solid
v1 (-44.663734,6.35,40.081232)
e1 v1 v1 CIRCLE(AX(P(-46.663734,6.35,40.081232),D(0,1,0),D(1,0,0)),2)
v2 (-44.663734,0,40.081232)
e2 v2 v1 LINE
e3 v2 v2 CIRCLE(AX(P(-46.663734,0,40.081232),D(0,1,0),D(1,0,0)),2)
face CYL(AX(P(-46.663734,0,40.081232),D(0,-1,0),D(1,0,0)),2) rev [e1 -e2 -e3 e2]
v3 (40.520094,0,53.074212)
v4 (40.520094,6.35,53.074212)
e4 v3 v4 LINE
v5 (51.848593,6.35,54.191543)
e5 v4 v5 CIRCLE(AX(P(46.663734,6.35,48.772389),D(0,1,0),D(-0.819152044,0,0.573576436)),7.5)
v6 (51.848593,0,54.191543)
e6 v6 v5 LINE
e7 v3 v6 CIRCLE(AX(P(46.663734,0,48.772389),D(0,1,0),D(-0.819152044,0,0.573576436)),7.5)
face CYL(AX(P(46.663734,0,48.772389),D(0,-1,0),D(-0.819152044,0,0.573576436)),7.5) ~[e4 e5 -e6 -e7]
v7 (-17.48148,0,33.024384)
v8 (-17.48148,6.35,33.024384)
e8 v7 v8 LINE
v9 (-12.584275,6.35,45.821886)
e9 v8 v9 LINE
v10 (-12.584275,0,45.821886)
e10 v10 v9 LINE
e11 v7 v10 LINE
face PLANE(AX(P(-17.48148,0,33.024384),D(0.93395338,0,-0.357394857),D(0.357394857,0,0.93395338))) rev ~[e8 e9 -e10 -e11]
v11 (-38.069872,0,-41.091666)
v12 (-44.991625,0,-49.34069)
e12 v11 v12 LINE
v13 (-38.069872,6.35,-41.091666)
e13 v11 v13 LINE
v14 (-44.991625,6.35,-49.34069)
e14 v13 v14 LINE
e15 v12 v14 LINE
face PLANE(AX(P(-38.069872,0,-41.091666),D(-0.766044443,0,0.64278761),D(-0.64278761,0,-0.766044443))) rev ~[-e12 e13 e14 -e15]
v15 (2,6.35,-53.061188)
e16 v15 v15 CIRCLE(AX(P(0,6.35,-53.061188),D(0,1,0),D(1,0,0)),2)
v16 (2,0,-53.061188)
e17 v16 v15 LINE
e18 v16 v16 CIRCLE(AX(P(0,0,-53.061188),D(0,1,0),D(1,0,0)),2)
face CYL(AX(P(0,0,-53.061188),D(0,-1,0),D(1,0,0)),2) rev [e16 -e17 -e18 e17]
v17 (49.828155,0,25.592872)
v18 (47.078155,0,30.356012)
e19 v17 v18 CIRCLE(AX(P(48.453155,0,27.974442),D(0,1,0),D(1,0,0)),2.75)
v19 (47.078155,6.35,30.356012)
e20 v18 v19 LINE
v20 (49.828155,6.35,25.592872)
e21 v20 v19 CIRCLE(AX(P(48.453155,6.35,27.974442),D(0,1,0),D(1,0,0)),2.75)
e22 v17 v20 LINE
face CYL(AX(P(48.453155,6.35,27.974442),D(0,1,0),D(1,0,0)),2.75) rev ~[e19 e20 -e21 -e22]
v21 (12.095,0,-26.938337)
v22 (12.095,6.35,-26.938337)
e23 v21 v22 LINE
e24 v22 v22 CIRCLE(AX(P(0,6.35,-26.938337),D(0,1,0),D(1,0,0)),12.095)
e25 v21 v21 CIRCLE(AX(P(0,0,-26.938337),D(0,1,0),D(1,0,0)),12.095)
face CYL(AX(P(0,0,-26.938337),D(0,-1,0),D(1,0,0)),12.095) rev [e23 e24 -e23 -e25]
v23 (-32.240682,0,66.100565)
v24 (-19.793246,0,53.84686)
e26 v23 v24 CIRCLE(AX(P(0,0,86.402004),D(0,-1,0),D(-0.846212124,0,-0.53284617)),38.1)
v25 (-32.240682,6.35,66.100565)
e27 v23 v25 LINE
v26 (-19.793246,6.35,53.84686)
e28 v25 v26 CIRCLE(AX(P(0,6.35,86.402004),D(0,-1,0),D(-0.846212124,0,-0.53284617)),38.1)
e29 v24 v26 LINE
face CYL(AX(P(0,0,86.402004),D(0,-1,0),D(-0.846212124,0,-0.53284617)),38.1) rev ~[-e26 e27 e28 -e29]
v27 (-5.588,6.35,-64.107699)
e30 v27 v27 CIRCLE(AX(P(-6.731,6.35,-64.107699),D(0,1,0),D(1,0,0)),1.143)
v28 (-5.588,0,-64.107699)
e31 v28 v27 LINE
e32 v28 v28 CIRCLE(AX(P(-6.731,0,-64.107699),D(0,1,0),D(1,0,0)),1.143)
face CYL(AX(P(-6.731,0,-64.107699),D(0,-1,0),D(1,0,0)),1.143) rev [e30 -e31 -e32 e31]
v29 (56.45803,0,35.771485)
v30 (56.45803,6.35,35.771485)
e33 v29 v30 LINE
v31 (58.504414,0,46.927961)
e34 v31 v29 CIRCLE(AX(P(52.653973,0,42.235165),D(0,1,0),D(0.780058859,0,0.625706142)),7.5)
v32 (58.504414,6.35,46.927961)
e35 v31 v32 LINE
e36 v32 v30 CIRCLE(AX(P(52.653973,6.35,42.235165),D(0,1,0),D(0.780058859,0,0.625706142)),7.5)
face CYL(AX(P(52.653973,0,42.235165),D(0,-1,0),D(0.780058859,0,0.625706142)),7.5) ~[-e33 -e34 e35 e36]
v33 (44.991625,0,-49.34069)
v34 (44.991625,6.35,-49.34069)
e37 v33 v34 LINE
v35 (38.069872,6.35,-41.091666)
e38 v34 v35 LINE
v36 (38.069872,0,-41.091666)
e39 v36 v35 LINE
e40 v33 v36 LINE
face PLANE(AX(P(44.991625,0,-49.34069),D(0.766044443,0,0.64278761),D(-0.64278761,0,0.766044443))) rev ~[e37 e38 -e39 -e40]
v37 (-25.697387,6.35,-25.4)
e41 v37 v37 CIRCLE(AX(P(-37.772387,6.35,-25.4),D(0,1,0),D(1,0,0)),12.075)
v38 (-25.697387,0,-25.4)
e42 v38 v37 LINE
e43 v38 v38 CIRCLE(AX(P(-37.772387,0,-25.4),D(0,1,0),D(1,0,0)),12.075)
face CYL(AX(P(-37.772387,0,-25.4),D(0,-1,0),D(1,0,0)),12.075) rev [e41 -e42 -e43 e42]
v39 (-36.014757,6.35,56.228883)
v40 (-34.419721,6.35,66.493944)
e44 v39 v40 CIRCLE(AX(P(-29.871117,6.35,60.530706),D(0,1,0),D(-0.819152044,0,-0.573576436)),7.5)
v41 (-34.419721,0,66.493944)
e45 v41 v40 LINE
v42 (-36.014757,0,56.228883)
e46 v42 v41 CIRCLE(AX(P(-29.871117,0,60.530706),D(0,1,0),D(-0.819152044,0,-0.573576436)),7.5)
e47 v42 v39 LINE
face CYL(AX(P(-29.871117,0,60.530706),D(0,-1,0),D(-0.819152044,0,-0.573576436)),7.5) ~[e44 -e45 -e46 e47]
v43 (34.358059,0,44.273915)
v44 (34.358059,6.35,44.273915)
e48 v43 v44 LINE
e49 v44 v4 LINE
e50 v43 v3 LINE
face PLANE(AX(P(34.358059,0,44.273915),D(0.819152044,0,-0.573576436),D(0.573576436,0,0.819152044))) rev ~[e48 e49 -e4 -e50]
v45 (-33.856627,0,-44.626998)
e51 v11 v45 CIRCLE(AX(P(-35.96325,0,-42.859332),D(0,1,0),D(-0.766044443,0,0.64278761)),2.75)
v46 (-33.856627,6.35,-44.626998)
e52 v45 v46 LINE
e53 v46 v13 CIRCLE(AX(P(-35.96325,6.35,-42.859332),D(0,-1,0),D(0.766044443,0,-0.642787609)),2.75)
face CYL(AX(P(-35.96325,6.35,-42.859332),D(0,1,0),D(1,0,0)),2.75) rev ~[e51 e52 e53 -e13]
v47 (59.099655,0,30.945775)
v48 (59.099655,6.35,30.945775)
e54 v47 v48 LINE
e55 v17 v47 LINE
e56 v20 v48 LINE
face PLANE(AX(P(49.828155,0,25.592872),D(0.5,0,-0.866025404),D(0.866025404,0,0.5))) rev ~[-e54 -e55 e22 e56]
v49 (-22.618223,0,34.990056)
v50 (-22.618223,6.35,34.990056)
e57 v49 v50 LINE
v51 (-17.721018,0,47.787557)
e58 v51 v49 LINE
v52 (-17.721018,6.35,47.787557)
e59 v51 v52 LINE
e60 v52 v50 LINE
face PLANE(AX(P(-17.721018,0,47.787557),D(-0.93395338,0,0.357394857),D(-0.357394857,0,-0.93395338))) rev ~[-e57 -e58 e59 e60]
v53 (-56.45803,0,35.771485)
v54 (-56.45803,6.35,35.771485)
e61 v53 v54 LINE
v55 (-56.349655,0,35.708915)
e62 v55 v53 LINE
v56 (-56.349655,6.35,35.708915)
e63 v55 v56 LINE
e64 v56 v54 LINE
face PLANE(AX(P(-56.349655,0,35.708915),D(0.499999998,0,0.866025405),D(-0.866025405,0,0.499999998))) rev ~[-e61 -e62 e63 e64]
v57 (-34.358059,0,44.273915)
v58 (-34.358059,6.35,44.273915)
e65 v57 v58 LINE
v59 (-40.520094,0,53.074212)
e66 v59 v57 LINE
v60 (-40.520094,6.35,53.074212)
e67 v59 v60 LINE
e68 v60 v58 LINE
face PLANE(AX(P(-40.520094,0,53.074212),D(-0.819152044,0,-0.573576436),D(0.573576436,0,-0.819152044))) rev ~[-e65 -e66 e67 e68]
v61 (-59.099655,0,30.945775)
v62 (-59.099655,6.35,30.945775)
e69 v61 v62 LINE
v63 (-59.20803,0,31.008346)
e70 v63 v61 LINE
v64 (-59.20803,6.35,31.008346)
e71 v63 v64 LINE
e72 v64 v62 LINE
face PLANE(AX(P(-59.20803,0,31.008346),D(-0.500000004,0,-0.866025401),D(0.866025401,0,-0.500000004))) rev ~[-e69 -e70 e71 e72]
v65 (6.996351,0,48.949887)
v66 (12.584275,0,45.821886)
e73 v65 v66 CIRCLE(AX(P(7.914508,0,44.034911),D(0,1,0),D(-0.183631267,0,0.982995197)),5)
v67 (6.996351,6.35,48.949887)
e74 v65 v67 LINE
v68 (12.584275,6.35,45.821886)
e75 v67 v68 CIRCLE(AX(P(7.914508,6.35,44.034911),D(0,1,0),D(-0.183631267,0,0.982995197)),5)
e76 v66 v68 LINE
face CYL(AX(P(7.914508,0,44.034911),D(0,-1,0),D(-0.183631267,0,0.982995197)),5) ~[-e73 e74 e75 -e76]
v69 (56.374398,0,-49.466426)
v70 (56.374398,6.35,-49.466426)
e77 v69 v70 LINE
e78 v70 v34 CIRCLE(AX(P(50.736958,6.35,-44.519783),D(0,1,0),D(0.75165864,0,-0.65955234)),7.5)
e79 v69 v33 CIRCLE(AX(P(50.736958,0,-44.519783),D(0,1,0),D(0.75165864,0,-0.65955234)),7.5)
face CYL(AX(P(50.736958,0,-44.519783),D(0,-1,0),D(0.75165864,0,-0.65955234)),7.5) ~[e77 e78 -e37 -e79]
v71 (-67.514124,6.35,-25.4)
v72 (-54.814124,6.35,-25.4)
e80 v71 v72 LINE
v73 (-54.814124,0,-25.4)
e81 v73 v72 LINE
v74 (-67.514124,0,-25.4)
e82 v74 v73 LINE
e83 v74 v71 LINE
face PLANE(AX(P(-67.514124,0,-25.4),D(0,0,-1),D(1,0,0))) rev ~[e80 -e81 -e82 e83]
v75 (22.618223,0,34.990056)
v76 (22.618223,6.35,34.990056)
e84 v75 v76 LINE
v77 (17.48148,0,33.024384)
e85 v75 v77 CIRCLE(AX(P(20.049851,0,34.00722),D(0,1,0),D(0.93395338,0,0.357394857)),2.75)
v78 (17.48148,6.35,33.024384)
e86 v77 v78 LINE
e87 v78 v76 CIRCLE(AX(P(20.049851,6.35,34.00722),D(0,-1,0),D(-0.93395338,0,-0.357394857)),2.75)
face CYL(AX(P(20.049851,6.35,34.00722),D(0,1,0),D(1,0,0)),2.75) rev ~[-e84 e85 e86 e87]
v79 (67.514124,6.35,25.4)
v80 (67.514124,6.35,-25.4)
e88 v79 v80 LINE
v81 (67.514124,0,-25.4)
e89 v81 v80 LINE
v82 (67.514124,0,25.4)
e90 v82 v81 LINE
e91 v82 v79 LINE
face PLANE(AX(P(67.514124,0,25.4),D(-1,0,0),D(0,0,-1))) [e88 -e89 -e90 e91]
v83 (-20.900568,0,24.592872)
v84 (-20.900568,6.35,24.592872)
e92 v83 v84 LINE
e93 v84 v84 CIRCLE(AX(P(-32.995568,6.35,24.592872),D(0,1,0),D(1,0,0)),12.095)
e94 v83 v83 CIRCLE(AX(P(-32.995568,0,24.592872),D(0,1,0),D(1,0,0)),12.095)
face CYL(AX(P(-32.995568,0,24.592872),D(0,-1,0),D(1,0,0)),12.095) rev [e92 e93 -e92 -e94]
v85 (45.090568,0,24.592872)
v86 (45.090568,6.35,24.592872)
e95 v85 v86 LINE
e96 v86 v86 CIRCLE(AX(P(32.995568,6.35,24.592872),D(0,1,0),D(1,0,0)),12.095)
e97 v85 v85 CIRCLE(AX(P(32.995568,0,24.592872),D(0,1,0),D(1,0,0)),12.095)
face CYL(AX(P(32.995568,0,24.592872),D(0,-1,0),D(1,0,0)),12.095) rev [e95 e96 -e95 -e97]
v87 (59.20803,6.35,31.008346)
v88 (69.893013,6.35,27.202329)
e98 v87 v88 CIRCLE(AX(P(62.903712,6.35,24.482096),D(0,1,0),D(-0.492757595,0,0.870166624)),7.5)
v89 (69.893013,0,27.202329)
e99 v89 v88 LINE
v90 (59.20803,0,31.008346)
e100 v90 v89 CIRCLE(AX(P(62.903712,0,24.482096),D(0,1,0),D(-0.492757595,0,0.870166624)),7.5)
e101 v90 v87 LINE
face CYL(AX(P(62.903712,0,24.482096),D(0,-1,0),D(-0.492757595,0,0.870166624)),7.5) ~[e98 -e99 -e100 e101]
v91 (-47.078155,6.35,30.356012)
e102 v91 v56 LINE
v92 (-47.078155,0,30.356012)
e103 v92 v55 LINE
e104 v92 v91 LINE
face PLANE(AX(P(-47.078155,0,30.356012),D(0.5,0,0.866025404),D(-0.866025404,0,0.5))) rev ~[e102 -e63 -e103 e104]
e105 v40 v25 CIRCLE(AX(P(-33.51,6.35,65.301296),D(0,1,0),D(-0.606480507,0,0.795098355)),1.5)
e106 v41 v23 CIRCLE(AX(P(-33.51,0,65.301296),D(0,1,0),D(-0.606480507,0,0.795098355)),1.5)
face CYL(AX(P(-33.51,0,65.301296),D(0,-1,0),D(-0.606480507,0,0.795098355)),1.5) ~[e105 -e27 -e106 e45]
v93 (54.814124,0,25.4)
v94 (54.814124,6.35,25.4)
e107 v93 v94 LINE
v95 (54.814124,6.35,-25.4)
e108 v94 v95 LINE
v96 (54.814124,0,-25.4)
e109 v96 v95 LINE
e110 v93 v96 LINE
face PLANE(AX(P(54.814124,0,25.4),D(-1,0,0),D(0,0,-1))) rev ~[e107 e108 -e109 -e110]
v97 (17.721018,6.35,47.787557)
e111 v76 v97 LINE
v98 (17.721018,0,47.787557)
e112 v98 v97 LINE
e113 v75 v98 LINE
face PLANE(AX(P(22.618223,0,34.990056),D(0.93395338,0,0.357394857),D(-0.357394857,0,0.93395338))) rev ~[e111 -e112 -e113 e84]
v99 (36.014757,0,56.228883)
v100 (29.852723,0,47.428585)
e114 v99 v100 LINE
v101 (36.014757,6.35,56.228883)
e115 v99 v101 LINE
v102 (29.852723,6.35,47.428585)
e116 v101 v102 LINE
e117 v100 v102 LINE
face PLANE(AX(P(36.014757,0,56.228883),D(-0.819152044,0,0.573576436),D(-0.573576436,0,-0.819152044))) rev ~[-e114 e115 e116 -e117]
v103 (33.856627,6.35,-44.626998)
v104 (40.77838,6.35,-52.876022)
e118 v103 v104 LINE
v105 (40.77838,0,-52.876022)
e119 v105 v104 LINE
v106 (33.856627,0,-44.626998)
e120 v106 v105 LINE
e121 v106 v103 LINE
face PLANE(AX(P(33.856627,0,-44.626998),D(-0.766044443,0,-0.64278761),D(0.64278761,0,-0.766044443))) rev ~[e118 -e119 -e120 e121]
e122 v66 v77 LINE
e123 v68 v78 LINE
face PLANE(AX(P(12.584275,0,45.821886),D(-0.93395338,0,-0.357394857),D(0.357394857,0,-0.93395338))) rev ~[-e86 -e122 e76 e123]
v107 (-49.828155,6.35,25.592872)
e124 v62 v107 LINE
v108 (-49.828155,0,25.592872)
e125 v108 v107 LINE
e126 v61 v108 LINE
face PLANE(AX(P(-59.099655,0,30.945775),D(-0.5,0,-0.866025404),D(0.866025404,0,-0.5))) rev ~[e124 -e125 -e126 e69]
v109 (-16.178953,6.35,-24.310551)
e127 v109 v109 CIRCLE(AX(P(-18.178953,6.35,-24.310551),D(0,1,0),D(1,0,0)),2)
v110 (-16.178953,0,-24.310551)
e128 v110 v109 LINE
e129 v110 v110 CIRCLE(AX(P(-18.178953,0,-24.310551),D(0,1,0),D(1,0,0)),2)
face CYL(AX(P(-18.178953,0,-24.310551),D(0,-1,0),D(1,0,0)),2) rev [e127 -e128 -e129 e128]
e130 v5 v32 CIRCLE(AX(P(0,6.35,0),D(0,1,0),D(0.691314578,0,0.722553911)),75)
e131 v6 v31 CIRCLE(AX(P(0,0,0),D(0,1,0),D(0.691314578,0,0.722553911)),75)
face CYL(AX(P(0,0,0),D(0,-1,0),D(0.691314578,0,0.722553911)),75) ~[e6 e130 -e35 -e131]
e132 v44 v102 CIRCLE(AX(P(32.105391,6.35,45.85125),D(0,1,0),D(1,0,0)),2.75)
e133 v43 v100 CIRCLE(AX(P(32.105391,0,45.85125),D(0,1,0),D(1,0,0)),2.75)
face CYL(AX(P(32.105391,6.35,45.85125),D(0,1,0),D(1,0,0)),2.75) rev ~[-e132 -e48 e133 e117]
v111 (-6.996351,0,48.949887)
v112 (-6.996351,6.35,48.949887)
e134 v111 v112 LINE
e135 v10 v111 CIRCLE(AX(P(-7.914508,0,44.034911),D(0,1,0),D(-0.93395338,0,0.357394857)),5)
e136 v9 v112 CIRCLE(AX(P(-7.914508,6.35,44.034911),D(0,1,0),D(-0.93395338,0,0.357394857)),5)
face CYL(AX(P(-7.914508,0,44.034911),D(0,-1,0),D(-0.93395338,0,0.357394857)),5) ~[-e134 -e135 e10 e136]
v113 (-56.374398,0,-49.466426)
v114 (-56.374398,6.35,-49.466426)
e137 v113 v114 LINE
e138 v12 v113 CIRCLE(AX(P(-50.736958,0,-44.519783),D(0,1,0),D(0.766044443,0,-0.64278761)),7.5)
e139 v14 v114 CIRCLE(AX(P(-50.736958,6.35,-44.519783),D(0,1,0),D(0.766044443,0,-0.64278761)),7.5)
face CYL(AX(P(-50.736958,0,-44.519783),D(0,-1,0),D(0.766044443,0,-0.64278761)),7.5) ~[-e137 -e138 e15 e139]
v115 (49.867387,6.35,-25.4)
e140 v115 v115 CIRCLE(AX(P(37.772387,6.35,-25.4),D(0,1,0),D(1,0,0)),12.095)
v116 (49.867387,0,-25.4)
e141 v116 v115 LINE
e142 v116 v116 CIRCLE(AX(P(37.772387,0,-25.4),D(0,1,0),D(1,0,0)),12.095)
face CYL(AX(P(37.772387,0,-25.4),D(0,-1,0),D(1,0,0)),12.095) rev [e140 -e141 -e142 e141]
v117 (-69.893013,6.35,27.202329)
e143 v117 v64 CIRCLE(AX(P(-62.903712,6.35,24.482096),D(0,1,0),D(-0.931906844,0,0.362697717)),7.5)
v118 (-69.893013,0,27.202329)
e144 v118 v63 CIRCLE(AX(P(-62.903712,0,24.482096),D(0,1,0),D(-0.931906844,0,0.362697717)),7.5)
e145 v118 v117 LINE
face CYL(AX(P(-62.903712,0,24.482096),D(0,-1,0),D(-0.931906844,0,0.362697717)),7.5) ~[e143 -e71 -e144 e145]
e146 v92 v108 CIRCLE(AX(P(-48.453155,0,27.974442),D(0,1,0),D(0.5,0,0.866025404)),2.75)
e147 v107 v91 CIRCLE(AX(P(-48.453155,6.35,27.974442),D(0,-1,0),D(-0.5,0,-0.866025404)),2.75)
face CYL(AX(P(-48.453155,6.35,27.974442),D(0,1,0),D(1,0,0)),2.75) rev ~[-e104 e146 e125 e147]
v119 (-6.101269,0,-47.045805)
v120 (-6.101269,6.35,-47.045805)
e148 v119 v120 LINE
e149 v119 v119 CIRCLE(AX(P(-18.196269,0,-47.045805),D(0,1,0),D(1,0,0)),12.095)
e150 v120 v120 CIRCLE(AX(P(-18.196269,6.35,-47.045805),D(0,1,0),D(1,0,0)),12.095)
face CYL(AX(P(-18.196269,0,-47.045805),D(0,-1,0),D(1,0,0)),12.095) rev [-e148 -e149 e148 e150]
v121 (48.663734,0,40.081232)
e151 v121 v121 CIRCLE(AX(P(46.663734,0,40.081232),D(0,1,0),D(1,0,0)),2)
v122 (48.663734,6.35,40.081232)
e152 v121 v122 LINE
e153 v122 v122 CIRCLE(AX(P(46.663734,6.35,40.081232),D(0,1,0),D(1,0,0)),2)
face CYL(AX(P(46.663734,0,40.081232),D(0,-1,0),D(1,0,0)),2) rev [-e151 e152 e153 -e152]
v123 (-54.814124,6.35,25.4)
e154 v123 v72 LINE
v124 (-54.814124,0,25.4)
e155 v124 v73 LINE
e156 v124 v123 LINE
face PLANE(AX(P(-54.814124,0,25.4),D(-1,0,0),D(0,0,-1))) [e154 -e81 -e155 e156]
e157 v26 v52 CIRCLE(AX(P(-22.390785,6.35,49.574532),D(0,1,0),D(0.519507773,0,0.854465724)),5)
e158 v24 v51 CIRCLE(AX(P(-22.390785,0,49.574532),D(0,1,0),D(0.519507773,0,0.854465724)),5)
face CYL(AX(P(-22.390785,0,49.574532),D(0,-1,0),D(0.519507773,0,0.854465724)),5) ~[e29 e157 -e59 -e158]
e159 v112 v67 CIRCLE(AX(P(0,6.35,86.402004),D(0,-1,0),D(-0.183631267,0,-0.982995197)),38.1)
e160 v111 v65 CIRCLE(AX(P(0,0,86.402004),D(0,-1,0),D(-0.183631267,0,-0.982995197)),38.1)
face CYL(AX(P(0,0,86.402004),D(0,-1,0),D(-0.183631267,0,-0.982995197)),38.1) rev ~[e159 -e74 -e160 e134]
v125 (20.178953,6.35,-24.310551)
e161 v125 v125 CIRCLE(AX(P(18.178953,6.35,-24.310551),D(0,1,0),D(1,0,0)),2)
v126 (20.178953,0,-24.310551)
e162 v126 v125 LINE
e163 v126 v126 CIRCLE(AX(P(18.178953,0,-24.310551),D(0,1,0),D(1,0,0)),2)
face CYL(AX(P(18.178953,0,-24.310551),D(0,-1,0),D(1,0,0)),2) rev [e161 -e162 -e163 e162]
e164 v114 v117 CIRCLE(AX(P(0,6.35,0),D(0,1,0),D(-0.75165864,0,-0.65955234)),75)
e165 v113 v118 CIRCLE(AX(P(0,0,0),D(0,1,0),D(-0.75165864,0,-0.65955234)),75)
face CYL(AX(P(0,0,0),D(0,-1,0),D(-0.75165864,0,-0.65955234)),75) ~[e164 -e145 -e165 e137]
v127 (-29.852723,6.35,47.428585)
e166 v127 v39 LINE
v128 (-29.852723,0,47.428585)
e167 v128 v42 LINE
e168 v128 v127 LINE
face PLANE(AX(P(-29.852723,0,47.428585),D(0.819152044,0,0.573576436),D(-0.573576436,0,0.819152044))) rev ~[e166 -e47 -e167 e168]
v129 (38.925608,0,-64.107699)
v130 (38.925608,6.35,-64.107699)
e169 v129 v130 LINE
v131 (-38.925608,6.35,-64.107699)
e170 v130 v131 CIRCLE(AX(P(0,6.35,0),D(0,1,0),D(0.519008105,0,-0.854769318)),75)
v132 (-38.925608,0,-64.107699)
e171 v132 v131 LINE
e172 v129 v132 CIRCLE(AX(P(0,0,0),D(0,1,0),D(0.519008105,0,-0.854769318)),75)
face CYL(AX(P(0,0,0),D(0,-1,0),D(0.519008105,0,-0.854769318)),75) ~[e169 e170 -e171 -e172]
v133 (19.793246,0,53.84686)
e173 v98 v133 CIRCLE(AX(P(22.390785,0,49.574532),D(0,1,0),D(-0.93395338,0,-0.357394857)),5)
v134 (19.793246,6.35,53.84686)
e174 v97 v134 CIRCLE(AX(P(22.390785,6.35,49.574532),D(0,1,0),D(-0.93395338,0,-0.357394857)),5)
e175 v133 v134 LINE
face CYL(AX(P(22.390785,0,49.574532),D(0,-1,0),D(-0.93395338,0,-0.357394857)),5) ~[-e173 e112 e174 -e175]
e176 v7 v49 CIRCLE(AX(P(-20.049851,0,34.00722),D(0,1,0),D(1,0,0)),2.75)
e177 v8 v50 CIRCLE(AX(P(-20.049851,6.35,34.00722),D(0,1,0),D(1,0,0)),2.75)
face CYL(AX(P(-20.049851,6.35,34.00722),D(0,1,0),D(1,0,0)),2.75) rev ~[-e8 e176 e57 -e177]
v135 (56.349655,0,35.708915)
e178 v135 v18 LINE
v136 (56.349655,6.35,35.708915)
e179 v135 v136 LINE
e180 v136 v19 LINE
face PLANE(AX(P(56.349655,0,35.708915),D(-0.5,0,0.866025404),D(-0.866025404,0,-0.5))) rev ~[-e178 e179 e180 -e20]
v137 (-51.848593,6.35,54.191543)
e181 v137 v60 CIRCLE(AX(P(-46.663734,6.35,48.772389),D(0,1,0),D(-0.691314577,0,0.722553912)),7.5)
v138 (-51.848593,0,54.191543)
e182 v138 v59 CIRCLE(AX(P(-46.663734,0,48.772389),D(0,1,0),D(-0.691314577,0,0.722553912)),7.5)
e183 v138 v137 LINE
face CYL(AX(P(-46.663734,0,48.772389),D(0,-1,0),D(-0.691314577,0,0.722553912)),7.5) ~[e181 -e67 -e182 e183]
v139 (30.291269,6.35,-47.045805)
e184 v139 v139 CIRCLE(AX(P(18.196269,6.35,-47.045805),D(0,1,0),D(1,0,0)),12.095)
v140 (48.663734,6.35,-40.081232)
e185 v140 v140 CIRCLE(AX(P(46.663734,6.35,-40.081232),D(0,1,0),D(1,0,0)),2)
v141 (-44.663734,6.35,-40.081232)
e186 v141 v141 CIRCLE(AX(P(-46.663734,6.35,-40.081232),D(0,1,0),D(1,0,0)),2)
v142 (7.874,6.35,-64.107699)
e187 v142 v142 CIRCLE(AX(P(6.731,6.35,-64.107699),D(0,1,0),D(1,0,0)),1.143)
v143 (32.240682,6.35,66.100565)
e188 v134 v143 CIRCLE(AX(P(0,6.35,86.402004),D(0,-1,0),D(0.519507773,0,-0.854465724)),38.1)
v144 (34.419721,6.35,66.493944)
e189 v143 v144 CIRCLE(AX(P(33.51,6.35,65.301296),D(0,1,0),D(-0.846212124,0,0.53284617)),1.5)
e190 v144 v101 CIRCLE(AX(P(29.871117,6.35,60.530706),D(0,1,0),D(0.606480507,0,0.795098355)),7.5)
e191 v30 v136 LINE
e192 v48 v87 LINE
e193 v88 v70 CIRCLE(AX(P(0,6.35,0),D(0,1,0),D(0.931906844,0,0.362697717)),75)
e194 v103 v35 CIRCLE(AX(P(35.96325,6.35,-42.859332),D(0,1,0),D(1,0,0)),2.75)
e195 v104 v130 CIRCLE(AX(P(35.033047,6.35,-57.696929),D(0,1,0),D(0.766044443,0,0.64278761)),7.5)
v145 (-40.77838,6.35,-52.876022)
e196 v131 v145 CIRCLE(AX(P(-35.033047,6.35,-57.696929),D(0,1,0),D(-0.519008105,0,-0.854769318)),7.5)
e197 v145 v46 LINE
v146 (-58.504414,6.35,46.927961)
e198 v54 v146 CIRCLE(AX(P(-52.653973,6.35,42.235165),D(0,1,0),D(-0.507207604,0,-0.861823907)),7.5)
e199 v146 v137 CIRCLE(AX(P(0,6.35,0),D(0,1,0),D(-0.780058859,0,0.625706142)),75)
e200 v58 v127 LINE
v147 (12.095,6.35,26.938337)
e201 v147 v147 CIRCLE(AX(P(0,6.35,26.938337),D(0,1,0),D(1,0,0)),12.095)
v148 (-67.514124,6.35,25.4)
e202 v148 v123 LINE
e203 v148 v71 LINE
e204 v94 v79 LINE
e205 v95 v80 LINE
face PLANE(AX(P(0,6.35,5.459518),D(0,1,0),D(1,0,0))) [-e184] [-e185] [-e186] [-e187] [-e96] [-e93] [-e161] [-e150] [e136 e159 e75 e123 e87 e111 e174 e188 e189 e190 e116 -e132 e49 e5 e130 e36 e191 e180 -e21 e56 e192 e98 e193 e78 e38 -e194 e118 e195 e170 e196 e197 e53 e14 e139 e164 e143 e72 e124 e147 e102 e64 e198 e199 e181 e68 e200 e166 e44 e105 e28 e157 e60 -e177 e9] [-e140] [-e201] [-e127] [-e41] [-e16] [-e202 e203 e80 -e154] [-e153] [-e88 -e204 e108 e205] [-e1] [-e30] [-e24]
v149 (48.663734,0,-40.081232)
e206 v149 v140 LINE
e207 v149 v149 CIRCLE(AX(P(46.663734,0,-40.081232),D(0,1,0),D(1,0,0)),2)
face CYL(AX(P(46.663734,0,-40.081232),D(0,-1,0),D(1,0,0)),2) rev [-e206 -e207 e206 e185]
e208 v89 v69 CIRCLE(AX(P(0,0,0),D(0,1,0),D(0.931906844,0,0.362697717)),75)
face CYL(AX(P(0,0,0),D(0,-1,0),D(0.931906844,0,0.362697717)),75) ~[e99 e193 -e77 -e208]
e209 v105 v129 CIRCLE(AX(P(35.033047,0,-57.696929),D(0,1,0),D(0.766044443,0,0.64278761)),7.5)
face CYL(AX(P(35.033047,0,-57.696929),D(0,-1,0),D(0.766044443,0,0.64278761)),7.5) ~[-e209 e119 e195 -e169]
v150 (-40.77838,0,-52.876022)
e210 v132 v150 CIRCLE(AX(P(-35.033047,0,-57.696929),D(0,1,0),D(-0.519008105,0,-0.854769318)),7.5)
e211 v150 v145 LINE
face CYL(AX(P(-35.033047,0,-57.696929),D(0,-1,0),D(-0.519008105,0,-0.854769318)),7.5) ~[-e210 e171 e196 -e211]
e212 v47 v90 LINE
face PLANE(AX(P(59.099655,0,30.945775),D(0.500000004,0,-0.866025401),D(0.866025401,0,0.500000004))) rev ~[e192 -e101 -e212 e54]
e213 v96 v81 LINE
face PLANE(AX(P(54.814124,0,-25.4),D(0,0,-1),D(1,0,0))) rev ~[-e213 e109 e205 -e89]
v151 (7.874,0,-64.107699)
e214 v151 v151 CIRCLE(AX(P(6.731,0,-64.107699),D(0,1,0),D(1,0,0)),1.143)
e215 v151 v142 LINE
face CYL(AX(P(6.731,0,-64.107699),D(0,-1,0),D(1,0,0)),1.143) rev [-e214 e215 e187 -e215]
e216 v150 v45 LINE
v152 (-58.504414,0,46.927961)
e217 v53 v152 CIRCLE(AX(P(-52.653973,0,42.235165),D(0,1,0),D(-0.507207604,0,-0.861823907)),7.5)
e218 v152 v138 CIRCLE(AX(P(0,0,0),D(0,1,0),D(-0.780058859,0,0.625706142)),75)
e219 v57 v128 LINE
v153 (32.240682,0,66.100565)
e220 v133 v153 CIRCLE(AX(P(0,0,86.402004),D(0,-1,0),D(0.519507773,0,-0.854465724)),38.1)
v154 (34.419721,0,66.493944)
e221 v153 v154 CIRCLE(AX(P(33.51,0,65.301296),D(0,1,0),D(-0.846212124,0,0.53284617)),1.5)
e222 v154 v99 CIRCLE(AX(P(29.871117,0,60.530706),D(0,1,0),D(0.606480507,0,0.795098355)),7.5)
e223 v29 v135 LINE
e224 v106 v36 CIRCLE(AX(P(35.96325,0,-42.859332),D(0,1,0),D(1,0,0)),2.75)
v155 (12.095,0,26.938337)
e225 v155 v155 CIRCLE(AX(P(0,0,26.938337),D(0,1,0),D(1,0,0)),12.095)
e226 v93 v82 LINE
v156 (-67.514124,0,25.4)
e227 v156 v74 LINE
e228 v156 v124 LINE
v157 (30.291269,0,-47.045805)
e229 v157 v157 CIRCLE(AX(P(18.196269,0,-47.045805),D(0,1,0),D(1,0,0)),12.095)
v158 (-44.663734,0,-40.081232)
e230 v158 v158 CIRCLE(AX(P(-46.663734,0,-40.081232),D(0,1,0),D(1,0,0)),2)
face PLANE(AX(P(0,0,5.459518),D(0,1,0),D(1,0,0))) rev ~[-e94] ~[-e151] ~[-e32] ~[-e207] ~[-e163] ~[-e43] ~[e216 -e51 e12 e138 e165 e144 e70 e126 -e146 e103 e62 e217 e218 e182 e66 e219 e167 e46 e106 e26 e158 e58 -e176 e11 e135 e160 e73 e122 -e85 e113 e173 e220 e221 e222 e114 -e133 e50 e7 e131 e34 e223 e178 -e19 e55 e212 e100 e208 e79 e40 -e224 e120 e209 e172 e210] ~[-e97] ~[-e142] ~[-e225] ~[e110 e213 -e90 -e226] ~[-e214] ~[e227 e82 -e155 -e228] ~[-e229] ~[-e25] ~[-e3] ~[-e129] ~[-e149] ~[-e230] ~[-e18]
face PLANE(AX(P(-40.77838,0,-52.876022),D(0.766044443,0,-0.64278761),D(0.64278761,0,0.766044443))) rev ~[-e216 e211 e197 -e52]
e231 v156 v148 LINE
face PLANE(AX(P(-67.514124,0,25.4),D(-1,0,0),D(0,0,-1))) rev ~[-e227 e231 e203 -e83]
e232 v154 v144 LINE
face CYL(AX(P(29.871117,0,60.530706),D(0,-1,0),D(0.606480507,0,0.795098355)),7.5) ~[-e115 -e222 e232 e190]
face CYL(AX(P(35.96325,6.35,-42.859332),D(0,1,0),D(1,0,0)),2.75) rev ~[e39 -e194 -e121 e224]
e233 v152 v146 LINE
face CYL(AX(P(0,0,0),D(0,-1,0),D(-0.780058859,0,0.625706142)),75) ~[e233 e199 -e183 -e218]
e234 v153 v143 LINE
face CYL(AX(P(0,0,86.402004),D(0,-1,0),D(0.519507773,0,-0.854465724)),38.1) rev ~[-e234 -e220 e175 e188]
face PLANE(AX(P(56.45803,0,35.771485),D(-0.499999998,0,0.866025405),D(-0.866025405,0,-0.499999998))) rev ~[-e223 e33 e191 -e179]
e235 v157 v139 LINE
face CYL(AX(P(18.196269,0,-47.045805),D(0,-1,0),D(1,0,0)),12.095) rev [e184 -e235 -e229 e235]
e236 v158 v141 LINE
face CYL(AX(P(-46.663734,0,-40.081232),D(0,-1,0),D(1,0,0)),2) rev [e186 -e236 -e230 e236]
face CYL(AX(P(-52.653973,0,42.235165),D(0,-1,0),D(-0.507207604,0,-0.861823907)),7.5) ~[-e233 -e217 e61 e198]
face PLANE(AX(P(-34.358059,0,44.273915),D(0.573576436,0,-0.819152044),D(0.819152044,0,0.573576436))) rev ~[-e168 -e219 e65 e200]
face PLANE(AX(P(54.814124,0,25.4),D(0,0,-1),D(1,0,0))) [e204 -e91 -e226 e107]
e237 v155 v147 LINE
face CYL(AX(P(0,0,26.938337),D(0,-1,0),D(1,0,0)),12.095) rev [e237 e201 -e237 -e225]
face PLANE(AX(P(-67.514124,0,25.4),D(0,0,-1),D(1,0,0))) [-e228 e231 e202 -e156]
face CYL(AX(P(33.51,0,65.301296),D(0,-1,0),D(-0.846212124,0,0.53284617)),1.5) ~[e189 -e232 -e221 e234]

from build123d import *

# Parameters (mm, degrees)
SKETCH1_R           = 2
SKETCH1_W           = 12.7
SKETCH1_H           = 50.8
SKETCH1_R_2         = 12.095
SKETCH1_R_3         = 12.075
SKETCH1_R_4         = 1.143
BOSS_EXTRUDE1_DEPTH = 6.35
SKETCH5_R           = 2.75
CUT_EXTRUDE5_DEPTH  = 10


with BuildPart() as part:
    # Sketch1 → Boss-Extrude1 (new body)
    with BuildSketch(Plane(origin=(0, 0, 0), x_dir=(1, 0, 0), z_dir=(0, 1, 0))):
        with BuildLine():
            Line((-40.520093651, -53.074212293), (-34.358059191, -44.273915061))
            Line((-34.358059191, -44.273915061), (-29.852722948, -47.428585461))
            Line((-29.852722948, -47.428585461), (-36.014757408, -56.228882693))
            ThreePointArc((-36.014757408, -56.228882693), (-37.282182463, -61.682274385), (-34.419720881, -66.493943628))
            ThreePointArc((-34.419720881, -66.493943628), (-33.243515234, -66.777434912), (-32.240681933, -66.10056535))
            ThreePointArc((-32.240681933, -66.10056535), (-26.728650164, -59.250774979), (-19.793246149, -53.846860332))
            ThreePointArc((-19.793246149, -53.846860332), (-17.659799789, -51.192486841), (-17.721018114, -47.787557426))
            Line((-17.721018114, -47.787557426), (-22.618223277, -34.99005566))
            Line((-22.618223277, -34.99005566), (-17.481479686, -33.024383946))
            Line((-17.481479686, -33.024383946), (-12.584274523, -45.821885712))
            ThreePointArc((-12.584274523, -45.821885712), (-10.356790186, -48.397852623), (-6.996351286, -48.949887413))
            ThreePointArc((-6.996351286, -48.949887413), (0, -48.302004425), (6.996351286, -48.949887413))
            ThreePointArc((6.996351286, -48.949887413), (10.356790186, -48.397852623), (12.584274523, -45.821885712))
            Line((12.584274523, -45.821885712), (17.481479686, -33.024383946))
            Line((17.481479686, -33.024383946), (22.618223277, -34.99005566))
            Line((22.618223277, -34.99005566), (17.721018114, -47.787557426))
            ThreePointArc((17.721018114, -47.787557426), (17.659799789, -51.192486841), (19.793246149, -53.846860332))
            ThreePointArc((19.793246149, -53.846860332), (26.728650164, -59.250774979), (32.240681933, -66.10056535))
            ThreePointArc((32.240681933, -66.10056535), (33.243515234, -66.777434912), (34.419720881, -66.493943628))
            ThreePointArc((34.419720881, -66.493943628), (37.282182463, -61.682274385), (36.014757408, -56.228882693))
            Line((36.014757408, -56.228882693), (29.852722948, -47.428585461))
            Line((29.852722948, -47.428585461), (34.358059191, -44.273915061))
            Line((34.358059191, -44.273915061), (40.520093651, -53.074212293))
            ThreePointArc((40.520093651, -53.074212293), (45.927580176, -56.23617342), (51.848593315, -54.191543356))
            ThreePointArc((51.848593315, -54.191543356), (55.295899374, -50.669157408), (58.504414423, -46.927960674))
            ThreePointArc((58.504414423, -46.927960674), (60.030901261, -40.882046302), (56.458030011, -35.771485305))
            Line((56.458030011, -35.771485305), (56.349654942, -35.70891493))
            Line((56.349654942, -35.70891493), (47.078155187, -30.35601205))
            Line((47.078155187, -30.35601205), (49.828155187, -25.59287233))
            Line((49.828155187, -25.59287233), (59.099654942, -30.945775209))
            Line((59.099654942, -30.945775209), (59.208030011, -31.008345585))
            ThreePointArc((59.208030011, -31.008345585), (65.420341286, -31.547262353), (69.893013303, -27.202328787))
            ThreePointArc((69.893013303, -27.202328787), (73.860606951, 13.023468848), (56.374397975, 49.466425512))
            ThreePointArc((56.374397975, 49.466425512), (50.654117331, 52.01932544), (44.991624855, 49.340690033))
            Line((44.991624855, 49.340690033), (38.069871869, 41.091666046))
            Line((38.069871869, 41.091666046), (33.856627432, 44.626997899))
            Line((33.856627432, 44.626997899), (40.778380417, 52.876021886))
            ThreePointArc((40.778380417, 52.876021886), (42.433039833, 58.917628536), (38.925607882, 64.107698843))
            ThreePointArc((38.925607882, 64.107698843), (0, 75), (-38.925607882, 64.107698843))
            ThreePointArc((-38.925607882, 64.107698843), (-42.433039833, 58.917628536), (-40.778380417, 52.876021886))
            Line((-40.778380417, 52.876021886), (-33.856627432, 44.626997899))
            Line((-33.856627432, 44.626997899), (-38.069871869, 41.091666046))
            Line((-38.069871869, 41.091666046), (-44.991624855, 49.340690033))
            ThreePointArc((-44.991624855, 49.340690033), (-50.654117331, 52.01932544), (-56.374397975, 49.466425512))
            ThreePointArc((-56.374397975, 49.466425512), (-73.860606951, 13.023468848), (-69.893013303, -27.202328787))
            ThreePointArc((-69.893013303, -27.202328787), (-65.420341286, -31.547262353), (-59.208030011, -31.008345585))
            Line((-59.208030011, -31.008345585), (-59.099654942, -30.945775209))
            Line((-59.099654942, -30.945775209), (-49.828155187, -25.59287233))
            Line((-49.828155187, -25.59287233), (-47.078155187, -30.35601205))
            Line((-47.078155187, -30.35601205), (-56.349654942, -35.70891493))
            Line((-56.349654942, -35.70891493), (-56.458030011, -35.771485305))
            ThreePointArc((-56.458030011, -35.771485305), (-60.030901261, -40.882046302), (-58.504414423, -46.927960674))
            ThreePointArc((-58.504414423, -46.927960674), (-55.295899374, -50.669157408), (-51.848593315, -54.191543356))
            ThreePointArc((-51.848593315, -54.191543356), (-45.927580176, -56.23617342), (-40.520093651, -53.074212293))
        make_face()
        with Locations((-46.663733983, -40.081231883)):
            Circle(SKETCH1_R, mode=Mode.SUBTRACT)
        with Locations((-61.164123727, 0)):
            Rectangle(SKETCH1_W, SKETCH1_H, mode=Mode.SUBTRACT)
        with Locations((-32.995567884, -24.592872328)):
            Circle(SKETCH1_R_2, mode=Mode.SUBTRACT)
        with Locations((46.663733983, -40.081231883)):
            Circle(SKETCH1_R, mode=Mode.SUBTRACT)
        with Locations((0, -26.93833729)):
            Circle(SKETCH1_R_2, mode=Mode.SUBTRACT)
        with Locations((32.995567884, -24.592872328)):
            Circle(SKETCH1_R_2, mode=Mode.SUBTRACT)
        with Locations((61.164123727, 0)):
            Rectangle(SKETCH1_W, SKETCH1_H, mode=Mode.SUBTRACT)
        with Locations((-37.772386793, 25.4)):
            Circle(SKETCH1_R_3, mode=Mode.SUBTRACT)
        with Locations((-18.178952795, 24.310551096)):
            Circle(SKETCH1_R, mode=Mode.SUBTRACT)
        with Locations((-46.663733983, 40.081231883)):
            Circle(SKETCH1_R, mode=Mode.SUBTRACT)
        with Locations((-18.1962694, 47.045805056)):
            Circle(SKETCH1_R_2, mode=Mode.SUBTRACT)
        with Locations((-6.731, 64.107698843)):
            Circle(SKETCH1_R_4, mode=Mode.SUBTRACT)
        with Locations((0, 26.93833729)):
            Circle(SKETCH1_R_2, mode=Mode.SUBTRACT)
        with Locations((18.178952795, 24.310551096)):
            Circle(SKETCH1_R, mode=Mode.SUBTRACT)
        with Locations((37.772386793, 25.4)):
            Circle(SKETCH1_R_2, mode=Mode.SUBTRACT)
        with Locations((18.1962694, 47.045805056)):
            Circle(SKETCH1_R_2, mode=Mode.SUBTRACT)
        with Locations((0, 53.061187965)):
            Circle(SKETCH1_R, mode=Mode.SUBTRACT)
        with Locations((6.731, 64.107698843)):
            Circle(SKETCH1_R_4, mode=Mode.SUBTRACT)
        with Locations((46.663733983, 40.081231883)):
            Circle(SKETCH1_R, mode=Mode.SUBTRACT)
    extrude(amount=BOSS_EXTRUDE1_DEPTH)

    # Sketch5 → Cut-Extrude5 (cut)
    with BuildSketch(Plane(origin=(0, 6.35, 0), x_dir=(1, 0, 0), z_dir=(0, 1, 0))):
        with Locations((-48.453155187, -27.97444219)):
            Circle(SKETCH5_R)
        with Locations((-20.049851481, -34.007219803)):
            Circle(SKETCH5_R)
        with Locations((20.049851481, -34.007219803)):
            Circle(SKETCH5_R)
        with Locations((32.105391069, -45.851250261)):
            Circle(SKETCH5_R)
        with Locations((48.453155187, -27.97444219)):
            Circle(SKETCH5_R)
        with Locations((35.963249651, 42.859331973)):
            Circle(SKETCH5_R)
        with Locations((-35.963249651, 42.859331973)):
            Circle(SKETCH5_R)
    extrude(amount=-CUT_EXTRUDE5_DEPTH, mode=Mode.SUBTRACT)


solid = part.part
